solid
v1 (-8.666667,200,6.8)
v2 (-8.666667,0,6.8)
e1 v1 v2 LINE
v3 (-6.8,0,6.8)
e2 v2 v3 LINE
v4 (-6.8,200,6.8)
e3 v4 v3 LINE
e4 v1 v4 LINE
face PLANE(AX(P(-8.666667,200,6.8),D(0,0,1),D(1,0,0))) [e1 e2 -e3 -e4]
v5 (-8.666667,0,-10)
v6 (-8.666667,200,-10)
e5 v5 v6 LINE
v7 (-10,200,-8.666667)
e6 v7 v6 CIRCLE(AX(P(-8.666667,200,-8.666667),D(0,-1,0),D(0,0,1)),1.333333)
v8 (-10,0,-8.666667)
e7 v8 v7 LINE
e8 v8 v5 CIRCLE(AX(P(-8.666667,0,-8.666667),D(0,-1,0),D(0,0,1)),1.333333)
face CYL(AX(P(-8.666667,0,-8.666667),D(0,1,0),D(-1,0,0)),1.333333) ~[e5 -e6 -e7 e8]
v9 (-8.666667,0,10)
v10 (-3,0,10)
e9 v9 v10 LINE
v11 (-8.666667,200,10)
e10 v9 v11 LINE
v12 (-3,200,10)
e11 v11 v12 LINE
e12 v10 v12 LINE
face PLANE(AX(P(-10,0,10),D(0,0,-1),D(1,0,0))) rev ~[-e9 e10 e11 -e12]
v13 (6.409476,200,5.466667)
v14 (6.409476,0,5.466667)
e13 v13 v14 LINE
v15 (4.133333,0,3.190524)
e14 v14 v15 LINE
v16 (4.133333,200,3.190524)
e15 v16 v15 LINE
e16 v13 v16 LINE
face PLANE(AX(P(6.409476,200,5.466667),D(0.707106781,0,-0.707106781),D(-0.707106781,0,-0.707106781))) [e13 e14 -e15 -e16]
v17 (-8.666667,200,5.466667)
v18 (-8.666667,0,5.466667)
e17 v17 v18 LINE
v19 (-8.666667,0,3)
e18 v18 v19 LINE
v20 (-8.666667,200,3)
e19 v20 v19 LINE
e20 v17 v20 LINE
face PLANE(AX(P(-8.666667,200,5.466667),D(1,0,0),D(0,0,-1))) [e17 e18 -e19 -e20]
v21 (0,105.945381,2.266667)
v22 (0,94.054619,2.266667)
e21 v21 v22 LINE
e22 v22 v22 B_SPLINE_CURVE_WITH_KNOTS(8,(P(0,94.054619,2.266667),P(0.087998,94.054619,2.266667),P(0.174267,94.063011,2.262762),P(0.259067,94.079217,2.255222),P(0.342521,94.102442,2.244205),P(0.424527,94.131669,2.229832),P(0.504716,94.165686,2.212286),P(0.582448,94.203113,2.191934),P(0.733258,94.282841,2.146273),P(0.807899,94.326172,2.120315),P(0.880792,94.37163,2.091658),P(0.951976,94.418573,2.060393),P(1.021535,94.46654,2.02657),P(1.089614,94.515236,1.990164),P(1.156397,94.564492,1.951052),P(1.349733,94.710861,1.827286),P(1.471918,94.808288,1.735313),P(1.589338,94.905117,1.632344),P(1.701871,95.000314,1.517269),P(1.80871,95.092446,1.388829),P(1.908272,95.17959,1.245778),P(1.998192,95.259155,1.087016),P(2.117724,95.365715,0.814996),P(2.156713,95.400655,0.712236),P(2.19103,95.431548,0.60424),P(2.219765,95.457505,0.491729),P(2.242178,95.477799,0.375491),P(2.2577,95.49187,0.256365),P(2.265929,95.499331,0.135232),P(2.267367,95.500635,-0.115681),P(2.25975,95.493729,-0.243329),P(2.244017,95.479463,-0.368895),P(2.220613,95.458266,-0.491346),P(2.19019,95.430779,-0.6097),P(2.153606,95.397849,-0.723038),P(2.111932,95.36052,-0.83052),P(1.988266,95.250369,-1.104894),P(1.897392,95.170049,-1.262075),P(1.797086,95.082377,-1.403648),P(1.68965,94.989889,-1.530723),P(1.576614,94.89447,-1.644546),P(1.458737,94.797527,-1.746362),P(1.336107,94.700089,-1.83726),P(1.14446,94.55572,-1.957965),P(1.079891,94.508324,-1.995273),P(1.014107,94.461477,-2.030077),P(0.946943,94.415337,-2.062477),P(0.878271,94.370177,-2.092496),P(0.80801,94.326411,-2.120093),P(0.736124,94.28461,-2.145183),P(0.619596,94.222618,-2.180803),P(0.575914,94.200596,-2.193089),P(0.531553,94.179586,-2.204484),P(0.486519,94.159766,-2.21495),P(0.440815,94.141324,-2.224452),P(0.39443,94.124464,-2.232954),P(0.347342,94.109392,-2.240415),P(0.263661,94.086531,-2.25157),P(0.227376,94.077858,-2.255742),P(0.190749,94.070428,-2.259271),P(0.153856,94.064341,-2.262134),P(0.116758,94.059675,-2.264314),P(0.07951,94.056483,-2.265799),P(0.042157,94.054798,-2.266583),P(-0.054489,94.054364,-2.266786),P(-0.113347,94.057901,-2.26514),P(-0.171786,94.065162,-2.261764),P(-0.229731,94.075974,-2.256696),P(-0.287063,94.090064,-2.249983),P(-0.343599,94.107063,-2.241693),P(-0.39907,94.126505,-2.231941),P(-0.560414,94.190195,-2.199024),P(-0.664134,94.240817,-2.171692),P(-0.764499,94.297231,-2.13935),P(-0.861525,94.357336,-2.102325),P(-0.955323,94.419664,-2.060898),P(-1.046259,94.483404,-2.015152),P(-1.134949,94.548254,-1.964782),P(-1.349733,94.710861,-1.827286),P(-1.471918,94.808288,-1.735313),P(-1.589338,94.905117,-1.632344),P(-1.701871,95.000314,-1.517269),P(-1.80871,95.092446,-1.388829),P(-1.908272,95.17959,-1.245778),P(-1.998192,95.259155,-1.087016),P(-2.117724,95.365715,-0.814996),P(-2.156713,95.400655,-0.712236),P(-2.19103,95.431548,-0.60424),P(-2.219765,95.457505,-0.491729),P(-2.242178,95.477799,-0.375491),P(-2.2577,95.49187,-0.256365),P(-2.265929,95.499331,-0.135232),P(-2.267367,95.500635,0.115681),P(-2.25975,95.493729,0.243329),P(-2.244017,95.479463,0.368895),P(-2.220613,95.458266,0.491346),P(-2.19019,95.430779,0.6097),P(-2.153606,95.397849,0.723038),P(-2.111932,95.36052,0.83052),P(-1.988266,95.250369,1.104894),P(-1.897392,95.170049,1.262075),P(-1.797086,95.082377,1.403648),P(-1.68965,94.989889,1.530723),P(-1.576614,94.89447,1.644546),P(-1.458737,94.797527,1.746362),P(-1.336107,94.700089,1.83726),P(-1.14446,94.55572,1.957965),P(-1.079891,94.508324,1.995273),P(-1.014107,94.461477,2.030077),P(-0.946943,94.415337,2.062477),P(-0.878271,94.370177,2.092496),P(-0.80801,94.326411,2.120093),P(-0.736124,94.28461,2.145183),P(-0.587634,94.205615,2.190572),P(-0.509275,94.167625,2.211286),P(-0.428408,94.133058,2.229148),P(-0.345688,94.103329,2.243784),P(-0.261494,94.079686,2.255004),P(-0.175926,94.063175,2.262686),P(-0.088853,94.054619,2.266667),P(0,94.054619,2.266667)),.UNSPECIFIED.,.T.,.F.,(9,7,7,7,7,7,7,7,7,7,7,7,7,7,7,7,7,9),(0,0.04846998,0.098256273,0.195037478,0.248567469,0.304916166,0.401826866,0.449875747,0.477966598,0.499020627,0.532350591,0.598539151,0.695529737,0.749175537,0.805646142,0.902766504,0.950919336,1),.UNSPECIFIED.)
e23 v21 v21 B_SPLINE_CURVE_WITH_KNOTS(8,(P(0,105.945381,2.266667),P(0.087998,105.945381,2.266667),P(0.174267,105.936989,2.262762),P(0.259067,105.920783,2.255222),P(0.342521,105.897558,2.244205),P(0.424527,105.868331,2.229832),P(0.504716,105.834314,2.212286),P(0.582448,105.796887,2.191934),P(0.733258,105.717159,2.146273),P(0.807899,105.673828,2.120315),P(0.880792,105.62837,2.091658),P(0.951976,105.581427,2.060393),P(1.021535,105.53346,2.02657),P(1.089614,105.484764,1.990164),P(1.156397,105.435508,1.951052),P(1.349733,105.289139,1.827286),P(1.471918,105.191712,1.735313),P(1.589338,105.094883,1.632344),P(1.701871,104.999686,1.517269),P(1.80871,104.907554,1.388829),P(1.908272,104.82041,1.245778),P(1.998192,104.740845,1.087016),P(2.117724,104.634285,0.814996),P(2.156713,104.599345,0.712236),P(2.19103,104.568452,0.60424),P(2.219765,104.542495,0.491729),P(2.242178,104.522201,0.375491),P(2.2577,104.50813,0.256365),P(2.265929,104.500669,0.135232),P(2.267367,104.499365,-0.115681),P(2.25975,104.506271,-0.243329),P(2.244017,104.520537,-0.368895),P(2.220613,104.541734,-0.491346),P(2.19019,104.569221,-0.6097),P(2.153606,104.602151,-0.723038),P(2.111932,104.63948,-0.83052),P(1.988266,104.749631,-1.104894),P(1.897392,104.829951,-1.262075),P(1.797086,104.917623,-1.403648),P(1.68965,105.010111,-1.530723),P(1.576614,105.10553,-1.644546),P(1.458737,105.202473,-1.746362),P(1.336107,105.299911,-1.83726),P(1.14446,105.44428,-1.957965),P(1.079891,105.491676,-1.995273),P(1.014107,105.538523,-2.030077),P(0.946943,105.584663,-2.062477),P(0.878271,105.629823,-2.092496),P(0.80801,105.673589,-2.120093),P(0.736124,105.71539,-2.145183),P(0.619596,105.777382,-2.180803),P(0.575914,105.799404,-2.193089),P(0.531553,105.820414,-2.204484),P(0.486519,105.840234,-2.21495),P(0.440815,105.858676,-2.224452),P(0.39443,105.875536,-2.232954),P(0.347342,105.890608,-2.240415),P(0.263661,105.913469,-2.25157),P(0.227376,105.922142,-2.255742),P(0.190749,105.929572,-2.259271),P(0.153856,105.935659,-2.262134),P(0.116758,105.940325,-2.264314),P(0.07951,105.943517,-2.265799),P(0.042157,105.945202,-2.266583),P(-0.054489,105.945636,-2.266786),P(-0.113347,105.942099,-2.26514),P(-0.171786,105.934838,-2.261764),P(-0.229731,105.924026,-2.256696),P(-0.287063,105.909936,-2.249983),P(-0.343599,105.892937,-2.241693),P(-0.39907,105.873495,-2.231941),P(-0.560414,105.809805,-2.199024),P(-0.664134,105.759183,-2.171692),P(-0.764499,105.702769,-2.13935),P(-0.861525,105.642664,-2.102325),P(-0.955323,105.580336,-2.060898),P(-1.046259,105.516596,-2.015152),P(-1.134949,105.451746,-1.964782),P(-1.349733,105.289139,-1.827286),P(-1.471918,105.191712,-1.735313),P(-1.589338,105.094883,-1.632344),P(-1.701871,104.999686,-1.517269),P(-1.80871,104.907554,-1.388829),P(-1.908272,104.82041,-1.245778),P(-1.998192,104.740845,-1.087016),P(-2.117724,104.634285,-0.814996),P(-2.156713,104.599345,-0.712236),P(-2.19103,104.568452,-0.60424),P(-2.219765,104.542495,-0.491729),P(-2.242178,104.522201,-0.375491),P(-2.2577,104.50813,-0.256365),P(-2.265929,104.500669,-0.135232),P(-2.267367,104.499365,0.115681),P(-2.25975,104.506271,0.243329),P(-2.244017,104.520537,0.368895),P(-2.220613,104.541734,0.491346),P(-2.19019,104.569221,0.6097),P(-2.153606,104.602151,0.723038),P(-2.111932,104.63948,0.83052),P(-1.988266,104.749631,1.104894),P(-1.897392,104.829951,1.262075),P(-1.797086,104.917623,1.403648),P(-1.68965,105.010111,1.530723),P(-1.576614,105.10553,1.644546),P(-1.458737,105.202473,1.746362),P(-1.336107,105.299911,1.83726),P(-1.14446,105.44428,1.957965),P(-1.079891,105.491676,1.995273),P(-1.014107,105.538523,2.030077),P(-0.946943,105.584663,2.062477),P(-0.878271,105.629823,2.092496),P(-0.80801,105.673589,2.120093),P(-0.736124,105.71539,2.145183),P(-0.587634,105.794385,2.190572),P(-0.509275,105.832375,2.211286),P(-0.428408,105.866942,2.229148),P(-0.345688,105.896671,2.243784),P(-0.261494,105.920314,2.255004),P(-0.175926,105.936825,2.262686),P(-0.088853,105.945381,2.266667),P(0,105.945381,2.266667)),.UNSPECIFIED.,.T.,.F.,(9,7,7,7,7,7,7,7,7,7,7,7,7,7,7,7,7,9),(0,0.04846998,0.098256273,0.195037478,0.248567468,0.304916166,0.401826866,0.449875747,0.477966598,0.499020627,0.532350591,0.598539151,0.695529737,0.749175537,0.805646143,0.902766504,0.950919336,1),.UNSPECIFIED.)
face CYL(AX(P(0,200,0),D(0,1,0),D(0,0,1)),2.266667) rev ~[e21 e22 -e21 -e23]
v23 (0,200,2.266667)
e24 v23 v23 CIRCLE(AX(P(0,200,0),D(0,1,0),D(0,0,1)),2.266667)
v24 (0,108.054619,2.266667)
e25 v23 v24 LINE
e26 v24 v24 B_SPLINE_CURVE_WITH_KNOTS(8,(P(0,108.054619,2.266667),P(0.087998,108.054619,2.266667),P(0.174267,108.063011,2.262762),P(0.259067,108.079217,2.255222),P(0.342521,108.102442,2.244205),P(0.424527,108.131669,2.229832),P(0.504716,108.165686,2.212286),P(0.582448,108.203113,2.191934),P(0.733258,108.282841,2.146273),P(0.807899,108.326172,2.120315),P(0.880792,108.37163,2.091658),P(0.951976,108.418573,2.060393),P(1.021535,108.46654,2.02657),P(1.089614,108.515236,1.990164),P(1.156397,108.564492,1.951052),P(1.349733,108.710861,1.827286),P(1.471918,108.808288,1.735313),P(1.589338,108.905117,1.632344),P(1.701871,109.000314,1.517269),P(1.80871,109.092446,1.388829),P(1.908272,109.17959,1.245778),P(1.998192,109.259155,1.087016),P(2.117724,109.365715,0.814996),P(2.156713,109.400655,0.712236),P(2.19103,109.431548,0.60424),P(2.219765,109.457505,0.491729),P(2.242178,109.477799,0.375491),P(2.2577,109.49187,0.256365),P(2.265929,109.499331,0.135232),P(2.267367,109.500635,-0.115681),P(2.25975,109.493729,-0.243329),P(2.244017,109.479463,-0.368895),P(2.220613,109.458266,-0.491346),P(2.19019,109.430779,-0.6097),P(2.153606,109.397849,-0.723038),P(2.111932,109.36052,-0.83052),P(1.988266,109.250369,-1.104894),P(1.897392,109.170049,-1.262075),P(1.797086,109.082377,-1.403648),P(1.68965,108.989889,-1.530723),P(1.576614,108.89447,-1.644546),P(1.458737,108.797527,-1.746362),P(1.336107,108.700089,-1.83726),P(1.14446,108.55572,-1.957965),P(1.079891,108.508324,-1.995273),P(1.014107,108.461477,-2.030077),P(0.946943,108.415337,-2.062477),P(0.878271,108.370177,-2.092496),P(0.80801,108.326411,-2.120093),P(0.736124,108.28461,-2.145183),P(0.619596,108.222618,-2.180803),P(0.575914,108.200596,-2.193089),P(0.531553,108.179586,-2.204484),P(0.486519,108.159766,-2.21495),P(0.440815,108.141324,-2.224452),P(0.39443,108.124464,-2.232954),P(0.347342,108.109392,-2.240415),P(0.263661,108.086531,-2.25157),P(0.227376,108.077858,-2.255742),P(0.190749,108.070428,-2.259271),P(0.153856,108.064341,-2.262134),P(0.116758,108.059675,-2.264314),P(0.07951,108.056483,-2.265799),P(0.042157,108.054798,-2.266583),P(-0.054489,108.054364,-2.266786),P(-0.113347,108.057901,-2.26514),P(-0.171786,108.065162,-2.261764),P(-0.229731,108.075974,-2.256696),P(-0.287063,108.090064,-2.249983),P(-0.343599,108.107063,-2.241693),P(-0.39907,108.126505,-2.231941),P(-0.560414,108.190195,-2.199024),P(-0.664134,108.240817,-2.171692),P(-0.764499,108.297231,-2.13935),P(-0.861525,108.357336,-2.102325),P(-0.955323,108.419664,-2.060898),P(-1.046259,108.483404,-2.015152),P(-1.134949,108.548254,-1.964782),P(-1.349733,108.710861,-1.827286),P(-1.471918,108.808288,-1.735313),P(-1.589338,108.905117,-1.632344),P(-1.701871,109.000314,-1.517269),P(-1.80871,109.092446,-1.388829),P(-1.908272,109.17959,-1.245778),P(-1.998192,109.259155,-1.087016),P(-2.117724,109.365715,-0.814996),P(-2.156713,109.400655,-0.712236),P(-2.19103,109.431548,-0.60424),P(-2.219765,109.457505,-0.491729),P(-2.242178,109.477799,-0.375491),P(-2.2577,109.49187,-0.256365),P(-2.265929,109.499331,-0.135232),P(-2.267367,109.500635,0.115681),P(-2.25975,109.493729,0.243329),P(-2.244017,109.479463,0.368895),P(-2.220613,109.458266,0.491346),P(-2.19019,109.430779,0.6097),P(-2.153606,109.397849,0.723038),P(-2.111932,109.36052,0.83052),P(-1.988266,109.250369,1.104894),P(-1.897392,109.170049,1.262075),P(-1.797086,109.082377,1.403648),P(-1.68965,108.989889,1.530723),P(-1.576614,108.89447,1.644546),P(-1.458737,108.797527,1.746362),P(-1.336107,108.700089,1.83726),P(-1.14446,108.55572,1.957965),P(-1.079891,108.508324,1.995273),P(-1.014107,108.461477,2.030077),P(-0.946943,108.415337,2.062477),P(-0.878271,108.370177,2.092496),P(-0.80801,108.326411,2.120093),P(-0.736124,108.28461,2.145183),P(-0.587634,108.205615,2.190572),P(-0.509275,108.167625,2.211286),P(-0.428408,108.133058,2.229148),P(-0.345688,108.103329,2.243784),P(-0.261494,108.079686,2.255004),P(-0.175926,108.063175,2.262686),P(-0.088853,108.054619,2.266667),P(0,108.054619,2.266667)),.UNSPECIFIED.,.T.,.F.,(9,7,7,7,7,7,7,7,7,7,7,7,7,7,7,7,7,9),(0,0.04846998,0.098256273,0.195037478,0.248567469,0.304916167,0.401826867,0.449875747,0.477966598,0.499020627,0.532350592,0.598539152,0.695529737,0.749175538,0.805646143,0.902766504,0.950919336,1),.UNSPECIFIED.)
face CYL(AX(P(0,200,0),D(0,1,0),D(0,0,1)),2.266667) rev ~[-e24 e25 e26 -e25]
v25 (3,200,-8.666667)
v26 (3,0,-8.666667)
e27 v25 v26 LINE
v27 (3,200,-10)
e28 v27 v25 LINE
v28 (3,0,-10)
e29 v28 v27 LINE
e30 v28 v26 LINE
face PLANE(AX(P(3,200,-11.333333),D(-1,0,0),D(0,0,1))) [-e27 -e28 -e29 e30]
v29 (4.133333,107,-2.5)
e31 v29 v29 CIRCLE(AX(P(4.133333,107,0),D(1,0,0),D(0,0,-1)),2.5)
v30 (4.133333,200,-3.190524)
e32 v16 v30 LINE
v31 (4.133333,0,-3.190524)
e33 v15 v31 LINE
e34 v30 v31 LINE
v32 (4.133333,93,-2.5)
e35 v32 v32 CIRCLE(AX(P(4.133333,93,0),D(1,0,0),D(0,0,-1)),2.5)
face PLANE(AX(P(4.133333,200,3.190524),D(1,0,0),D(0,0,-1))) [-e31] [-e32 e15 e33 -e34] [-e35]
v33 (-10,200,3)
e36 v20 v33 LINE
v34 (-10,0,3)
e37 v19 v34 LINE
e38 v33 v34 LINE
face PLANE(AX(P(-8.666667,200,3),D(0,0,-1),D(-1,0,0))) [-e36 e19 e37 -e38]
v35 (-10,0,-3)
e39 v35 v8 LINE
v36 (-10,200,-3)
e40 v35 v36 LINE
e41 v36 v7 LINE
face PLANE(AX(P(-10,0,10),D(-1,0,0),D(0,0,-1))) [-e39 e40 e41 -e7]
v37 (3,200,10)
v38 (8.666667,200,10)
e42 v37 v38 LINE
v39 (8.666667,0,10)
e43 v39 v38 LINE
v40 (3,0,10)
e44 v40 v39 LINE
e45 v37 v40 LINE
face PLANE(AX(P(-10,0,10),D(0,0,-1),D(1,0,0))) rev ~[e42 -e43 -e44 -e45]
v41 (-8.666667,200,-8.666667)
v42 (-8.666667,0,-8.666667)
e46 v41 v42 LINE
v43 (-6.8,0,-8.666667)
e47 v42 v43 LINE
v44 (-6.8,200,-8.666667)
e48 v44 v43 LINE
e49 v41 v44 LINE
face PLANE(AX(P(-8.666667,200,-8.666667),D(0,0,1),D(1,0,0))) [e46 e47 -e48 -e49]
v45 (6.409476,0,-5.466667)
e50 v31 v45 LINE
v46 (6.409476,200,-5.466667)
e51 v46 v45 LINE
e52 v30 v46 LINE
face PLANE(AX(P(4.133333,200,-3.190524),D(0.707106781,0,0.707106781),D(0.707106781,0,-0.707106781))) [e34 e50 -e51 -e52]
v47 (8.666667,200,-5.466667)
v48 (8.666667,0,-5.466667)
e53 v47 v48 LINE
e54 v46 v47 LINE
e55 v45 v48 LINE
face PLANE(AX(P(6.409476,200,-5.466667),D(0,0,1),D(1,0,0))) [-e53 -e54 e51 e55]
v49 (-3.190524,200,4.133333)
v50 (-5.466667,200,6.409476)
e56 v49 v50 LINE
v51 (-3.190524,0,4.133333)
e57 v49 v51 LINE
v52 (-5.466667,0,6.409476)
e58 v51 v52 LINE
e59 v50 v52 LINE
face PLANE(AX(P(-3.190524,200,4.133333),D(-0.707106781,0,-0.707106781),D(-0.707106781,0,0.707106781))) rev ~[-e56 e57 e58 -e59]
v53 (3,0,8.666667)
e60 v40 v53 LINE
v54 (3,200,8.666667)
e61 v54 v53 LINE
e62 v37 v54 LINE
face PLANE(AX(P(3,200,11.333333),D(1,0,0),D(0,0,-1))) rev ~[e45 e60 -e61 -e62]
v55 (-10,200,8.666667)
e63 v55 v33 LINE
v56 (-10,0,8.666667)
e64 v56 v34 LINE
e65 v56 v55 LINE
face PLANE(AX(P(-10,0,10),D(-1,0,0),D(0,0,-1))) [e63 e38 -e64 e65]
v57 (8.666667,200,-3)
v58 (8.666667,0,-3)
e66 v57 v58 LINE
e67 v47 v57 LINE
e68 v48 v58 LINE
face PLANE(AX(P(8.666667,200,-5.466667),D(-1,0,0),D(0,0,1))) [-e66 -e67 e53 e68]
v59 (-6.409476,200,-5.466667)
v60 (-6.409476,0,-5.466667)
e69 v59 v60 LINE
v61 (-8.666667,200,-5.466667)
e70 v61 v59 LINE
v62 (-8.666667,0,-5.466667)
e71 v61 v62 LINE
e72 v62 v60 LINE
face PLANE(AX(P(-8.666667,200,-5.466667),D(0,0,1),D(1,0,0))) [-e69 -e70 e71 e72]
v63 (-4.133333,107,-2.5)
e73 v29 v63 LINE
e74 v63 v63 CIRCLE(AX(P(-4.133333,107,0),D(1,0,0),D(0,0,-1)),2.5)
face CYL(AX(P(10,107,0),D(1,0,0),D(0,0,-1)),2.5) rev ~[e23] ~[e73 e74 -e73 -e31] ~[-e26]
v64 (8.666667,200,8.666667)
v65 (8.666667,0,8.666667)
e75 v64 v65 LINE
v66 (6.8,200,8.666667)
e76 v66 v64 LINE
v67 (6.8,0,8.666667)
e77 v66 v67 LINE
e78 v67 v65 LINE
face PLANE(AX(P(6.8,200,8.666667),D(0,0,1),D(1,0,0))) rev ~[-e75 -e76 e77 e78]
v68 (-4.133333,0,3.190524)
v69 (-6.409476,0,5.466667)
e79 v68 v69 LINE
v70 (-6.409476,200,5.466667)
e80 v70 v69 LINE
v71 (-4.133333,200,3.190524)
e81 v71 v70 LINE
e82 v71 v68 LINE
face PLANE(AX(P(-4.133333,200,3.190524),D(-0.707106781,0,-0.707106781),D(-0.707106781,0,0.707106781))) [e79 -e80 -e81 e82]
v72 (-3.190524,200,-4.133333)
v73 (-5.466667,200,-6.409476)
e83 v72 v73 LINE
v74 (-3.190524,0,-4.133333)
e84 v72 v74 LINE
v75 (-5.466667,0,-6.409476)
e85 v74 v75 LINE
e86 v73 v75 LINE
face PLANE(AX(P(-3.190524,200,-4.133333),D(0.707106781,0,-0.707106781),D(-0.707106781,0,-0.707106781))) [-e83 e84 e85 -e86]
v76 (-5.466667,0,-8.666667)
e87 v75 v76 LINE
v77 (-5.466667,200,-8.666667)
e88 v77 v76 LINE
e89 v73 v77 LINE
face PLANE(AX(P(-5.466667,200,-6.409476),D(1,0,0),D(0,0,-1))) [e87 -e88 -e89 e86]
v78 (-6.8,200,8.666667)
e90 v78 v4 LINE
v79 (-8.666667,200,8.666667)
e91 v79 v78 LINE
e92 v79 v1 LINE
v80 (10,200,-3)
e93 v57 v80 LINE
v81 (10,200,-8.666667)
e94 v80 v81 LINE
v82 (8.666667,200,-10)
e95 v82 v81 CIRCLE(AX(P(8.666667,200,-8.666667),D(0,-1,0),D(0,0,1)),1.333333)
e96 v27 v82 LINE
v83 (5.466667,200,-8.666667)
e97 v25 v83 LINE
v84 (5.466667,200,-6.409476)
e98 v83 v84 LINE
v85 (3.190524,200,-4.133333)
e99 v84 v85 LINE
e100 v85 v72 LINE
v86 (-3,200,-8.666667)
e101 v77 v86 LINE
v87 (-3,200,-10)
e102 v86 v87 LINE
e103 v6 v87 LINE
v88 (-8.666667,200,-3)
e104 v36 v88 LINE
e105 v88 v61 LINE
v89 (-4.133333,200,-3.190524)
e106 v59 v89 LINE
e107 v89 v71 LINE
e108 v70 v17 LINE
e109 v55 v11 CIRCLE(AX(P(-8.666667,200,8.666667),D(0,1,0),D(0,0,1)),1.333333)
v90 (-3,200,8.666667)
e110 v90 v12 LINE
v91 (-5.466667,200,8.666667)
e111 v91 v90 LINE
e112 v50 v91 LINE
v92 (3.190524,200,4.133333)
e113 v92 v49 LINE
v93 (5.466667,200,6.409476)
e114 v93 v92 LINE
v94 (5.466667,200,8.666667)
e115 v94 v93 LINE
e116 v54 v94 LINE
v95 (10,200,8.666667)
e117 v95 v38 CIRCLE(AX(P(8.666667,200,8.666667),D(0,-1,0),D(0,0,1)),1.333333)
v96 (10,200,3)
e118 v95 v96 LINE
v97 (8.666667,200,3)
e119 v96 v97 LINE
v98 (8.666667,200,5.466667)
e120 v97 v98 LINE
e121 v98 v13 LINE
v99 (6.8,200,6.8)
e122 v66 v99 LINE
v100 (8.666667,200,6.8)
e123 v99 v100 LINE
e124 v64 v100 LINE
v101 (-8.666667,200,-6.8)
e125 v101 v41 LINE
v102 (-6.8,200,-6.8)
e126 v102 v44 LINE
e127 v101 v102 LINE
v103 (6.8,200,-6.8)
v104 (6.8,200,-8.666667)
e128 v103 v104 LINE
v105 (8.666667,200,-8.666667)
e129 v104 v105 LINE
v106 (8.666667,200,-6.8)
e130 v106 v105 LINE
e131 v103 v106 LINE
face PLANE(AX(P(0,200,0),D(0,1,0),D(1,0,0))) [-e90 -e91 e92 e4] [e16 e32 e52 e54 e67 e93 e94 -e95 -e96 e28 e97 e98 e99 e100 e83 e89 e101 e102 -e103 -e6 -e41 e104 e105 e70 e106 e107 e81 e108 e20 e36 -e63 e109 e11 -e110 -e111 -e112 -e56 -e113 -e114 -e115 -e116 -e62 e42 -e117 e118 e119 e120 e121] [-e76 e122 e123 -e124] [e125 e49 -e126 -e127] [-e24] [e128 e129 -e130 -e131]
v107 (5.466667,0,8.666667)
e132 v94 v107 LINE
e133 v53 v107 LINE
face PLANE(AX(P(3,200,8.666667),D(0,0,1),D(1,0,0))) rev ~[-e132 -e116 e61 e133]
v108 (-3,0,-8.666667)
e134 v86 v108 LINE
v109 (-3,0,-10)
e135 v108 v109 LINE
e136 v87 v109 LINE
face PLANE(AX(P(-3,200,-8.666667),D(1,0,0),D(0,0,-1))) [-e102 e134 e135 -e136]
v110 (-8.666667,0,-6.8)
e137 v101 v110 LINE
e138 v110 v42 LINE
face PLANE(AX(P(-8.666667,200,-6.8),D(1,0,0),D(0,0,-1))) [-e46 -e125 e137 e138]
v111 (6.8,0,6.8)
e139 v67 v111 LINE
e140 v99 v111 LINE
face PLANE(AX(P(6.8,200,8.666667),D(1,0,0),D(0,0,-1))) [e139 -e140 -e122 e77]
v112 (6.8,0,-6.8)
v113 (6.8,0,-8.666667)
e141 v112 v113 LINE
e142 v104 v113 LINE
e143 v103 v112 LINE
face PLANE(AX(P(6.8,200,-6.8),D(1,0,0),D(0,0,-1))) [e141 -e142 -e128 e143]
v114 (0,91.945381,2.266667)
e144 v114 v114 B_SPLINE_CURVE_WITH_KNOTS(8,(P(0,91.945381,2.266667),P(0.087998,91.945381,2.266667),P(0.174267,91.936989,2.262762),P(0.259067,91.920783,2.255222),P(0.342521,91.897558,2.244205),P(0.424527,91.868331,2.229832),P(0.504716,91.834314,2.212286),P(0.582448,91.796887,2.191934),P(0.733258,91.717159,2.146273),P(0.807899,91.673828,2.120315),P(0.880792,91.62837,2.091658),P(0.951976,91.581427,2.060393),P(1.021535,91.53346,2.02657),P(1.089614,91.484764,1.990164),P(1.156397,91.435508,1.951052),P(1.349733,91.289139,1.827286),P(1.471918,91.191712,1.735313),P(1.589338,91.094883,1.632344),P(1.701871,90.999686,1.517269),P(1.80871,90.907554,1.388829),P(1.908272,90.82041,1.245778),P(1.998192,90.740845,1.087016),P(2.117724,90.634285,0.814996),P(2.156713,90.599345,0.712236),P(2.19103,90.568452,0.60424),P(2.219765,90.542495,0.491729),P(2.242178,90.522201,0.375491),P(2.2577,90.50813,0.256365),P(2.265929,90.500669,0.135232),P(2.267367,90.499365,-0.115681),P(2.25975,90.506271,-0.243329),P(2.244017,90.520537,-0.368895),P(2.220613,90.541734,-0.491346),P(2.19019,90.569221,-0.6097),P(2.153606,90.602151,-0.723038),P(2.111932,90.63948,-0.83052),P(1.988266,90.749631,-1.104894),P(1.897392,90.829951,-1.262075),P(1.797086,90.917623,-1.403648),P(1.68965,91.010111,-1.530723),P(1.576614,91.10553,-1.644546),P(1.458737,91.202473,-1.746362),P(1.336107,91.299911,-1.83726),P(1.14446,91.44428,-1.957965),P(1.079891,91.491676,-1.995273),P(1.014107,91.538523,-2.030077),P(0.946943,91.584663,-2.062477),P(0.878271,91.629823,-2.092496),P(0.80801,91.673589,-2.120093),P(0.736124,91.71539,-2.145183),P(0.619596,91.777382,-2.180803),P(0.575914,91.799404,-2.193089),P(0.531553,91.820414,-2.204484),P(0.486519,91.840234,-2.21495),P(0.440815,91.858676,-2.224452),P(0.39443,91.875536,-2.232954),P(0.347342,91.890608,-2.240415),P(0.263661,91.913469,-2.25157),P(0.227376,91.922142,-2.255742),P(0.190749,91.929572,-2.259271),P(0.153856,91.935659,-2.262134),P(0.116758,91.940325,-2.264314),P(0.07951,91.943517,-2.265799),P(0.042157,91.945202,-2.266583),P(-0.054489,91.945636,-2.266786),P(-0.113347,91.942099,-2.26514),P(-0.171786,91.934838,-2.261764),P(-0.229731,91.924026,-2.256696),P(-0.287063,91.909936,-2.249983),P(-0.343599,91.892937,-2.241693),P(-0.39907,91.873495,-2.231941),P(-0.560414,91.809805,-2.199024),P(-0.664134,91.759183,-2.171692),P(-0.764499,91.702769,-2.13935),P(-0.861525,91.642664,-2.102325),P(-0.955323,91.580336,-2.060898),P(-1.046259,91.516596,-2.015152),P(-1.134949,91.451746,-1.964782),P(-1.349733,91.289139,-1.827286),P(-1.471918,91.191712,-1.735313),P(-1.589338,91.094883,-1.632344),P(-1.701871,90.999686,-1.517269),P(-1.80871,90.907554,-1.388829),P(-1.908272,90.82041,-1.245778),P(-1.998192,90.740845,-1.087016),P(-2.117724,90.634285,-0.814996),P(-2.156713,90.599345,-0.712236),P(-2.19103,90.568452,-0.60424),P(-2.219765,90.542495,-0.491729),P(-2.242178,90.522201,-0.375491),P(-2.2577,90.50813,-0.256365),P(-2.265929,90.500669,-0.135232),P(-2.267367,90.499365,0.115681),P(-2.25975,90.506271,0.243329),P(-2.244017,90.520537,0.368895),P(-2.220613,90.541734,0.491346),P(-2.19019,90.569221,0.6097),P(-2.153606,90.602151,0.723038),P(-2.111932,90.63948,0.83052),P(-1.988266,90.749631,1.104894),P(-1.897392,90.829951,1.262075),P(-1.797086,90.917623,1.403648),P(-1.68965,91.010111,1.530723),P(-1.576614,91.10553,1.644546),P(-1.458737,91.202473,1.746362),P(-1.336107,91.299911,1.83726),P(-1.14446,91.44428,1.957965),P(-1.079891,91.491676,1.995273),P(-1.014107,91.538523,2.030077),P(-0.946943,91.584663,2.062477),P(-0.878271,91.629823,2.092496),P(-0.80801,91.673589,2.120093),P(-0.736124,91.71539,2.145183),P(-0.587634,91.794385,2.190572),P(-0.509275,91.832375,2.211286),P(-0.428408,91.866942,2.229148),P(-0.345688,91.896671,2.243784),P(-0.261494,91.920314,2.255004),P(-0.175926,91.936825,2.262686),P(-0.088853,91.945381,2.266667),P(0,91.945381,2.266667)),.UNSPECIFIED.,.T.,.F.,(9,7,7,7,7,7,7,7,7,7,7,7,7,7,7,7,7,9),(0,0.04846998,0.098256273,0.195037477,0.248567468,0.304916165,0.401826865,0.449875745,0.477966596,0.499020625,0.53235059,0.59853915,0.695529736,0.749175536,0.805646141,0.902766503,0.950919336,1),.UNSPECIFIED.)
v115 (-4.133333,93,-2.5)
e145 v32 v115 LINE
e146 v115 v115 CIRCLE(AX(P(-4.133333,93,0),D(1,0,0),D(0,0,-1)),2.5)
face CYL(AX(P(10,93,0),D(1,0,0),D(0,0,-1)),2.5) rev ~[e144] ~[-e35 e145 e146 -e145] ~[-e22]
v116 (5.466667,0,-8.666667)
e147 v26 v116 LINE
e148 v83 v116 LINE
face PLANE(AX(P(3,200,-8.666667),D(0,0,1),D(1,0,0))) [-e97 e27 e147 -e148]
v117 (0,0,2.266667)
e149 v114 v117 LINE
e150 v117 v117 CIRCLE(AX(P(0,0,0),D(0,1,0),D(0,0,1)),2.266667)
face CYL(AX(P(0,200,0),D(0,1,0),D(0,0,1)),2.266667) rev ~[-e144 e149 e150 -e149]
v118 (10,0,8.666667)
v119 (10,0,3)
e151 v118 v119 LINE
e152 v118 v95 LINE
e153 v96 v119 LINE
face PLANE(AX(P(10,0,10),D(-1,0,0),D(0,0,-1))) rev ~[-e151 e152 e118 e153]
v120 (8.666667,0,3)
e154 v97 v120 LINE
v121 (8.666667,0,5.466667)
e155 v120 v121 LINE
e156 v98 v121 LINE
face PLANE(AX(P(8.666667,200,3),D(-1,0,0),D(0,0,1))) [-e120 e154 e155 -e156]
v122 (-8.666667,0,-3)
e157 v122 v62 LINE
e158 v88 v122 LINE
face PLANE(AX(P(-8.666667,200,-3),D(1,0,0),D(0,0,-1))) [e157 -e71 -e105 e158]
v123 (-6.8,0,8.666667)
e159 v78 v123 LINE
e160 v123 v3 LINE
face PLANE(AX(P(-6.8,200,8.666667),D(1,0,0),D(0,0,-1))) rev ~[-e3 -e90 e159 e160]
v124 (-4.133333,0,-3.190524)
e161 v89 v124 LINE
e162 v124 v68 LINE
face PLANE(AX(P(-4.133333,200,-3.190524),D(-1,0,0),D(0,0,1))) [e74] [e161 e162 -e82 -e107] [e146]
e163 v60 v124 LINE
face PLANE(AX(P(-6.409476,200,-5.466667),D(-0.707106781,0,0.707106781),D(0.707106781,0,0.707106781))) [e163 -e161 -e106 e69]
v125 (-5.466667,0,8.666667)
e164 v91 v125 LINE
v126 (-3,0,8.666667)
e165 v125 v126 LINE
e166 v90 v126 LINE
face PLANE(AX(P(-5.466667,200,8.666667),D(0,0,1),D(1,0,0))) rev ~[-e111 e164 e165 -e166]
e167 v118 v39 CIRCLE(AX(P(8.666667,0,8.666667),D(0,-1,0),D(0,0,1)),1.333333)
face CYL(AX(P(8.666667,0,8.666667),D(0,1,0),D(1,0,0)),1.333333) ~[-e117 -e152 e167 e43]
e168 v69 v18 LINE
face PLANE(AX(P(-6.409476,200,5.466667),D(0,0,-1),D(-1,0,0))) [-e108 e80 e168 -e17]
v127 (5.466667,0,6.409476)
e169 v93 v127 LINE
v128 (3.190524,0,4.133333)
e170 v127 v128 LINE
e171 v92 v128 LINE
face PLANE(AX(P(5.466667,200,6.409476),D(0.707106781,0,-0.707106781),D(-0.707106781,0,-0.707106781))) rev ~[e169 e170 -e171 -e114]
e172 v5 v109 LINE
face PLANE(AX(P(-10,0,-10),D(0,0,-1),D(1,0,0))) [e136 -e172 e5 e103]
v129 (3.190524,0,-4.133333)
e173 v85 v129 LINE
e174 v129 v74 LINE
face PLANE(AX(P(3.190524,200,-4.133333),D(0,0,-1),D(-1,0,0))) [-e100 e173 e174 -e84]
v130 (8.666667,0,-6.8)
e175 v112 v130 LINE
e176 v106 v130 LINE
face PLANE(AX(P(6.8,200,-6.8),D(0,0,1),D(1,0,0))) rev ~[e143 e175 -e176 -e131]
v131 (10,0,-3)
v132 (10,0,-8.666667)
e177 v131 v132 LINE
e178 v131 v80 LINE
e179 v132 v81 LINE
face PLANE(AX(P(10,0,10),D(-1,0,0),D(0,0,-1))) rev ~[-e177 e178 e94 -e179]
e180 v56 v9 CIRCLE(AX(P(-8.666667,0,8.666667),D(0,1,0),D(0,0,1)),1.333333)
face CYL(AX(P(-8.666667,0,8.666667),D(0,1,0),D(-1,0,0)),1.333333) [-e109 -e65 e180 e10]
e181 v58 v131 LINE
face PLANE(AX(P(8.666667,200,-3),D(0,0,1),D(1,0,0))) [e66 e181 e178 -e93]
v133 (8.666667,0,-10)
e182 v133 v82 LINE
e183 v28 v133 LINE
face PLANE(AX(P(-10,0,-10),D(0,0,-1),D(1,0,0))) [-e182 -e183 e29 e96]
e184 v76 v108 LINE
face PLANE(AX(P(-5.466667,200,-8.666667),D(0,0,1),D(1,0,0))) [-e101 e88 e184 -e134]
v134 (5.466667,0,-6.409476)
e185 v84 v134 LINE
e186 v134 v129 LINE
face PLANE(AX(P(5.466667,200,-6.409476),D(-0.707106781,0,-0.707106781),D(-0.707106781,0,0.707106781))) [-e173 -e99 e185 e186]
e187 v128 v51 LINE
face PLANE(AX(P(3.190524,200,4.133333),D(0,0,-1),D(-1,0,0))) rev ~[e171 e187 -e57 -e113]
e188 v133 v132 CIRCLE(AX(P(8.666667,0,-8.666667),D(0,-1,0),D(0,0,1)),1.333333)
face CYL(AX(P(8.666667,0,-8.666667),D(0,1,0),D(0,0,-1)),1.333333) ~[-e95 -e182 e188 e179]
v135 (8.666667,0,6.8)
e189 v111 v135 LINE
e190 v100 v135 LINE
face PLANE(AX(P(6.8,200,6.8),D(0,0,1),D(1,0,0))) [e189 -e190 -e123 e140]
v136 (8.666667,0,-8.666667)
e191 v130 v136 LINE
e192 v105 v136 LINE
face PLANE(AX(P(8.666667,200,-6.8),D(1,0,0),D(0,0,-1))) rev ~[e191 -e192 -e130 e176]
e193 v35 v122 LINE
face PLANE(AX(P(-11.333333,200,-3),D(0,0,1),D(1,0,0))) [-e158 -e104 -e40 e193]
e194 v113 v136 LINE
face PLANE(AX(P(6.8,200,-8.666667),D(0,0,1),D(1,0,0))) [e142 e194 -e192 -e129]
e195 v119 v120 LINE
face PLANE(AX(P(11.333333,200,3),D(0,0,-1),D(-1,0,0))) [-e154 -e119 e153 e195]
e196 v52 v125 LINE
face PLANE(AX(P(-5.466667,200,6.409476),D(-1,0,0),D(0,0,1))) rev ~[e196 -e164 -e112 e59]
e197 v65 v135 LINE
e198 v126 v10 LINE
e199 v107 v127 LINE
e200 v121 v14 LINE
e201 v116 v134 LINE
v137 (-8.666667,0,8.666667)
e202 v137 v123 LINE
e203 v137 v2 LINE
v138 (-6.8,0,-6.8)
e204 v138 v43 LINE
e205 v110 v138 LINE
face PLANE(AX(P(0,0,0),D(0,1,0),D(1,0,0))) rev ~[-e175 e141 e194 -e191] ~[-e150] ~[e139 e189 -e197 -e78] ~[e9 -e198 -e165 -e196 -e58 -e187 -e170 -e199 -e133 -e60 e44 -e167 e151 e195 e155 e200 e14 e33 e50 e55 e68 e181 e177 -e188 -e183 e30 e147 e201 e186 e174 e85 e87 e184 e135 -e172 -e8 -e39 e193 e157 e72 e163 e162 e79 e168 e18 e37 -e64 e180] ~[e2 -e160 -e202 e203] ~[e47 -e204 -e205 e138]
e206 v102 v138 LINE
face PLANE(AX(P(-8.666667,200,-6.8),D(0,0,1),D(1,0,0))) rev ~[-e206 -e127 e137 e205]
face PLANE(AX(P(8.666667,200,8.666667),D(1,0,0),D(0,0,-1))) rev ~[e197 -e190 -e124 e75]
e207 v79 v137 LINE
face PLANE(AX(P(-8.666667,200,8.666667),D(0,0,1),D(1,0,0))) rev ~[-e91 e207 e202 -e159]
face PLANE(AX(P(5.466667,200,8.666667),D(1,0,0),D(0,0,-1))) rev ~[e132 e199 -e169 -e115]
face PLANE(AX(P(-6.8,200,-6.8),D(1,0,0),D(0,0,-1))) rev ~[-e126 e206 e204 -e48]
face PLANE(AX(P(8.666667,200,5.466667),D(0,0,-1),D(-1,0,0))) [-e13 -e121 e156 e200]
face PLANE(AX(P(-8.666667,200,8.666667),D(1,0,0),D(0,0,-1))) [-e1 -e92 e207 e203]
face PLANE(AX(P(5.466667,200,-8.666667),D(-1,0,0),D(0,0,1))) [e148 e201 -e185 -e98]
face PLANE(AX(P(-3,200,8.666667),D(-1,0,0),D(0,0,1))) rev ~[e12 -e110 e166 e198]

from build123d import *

# Parameters (mm, degrees)
SKETCH1_W           = 20
SKETCH1_H           = 20
EXTRUDE1_DEPTH      = 200
SKETCH2_R           = 2.266666667
SKETCH2_W           = 1.866666667
SKETCH2_H           = 1.866666667
EXTRUDE2_DEPTH      = 201.499376558
FILLET1_R           = 1.333333333
SKETCH_1_R          = 2.5
CUT_EXTRUDE_1_DEPTH = 202.246117975


with BuildPart() as part:
    # Sketch1 → Extrude1 (new body)
    with BuildSketch(Plane(origin=(0, 0, 0), x_dir=(1, 0, 0), z_dir=(0, 1, 0))):
        Rectangle(SKETCH1_W, SKETCH1_H)
    extrude(amount=EXTRUDE1_DEPTH)

    # Sketch2 → Extrude2 (cut, through all)
    with BuildSketch(Plane(origin=(0, 200, 0), x_dir=(1, 0, 0), z_dir=(0, 1, 0))):
        Circle(SKETCH2_R)
        Polygon((8.666666667, 3), (11.333333333, 3), (11.333333333, -3), (8.666666667, -3), (8.666666667, -5.466666667), (6.409475708, -5.466666667), (4.133333333, -3.190524292), (4.133333333, 3.190524292), (6.409475708, 5.466666667), (8.666666667, 5.466666667), align=None)
        with Locations((7.733333334, 7.733333334)):
            Rectangle(SKETCH2_W, SKETCH2_H)
        Polygon((-3.190524292, 4.133333333), (-5.466666667, 6.409475708), (-5.466666667, 8.666666667), (-3, 8.666666667), (-3, 11.333333333), (3, 11.333333333), (3, 8.666666667), (5.466666667, 8.666666667), (5.466666667, 6.409475708), (3.190524292, 4.133333333), align=None)
        with Locations((7.733333334, -7.733333334)):
            Rectangle(SKETCH2_W, SKETCH2_H)
        with Locations((-7.733333334, 7.733333334)):
            Rectangle(SKETCH2_W, SKETCH2_H)
        with Locations((-7.733333334, -7.733333334)):
            Rectangle(SKETCH2_W, SKETCH2_H)
        Polygon((-6.409475708, -5.466666667), (-8.666666667, -5.466666667), (-8.666666667, -3), (-11.333333333, -3), (-11.333333333, 3), (-8.666666667, 3), (-8.666666667, 5.466666667), (-6.409475708, 5.466666667), (-4.133333333, 3.190524292), (-4.133333333, -3.190524292), align=None)
        Polygon((3.190524292, -4.133333333), (-3.190524292, -4.133333333), (-5.466666667, -6.409475708), (-5.466666667, -8.666666667), (-3, -8.666666667), (-3, -11.333333333), (3, -11.333333333), (3, -8.666666667), (5.466666667, -8.666666667), (5.466666667, -6.409475708), align=None)
    extrude(amount=-EXTRUDE2_DEPTH, mode=Mode.SUBTRACT)

    # Fillet1
    fillet1_edges = [part.edges().sort_by_distance(p)[0] for p in [
        (10, 100, 10),
        (10, 100, -10),
        (-10, 100, 10),
        (-10, 100, -10),
    ]]
    fillet(fillet1_edges, radius=FILLET1_R)

    # Эскиз1 → Вырез-Вытянуть1 (cut, through all)
    with BuildSketch(Plane(origin=(10, 0, 0), x_dir=(0, 0, -1), z_dir=(1, 0, 0))):
        with Locations((0, 93)):
            Circle(SKETCH_1_R)
        with Locations((0, 107)):
            Circle(SKETCH_1_R)
    extrude(amount=-CUT_EXTRUDE_1_DEPTH, mode=Mode.SUBTRACT)


solid = part.part
